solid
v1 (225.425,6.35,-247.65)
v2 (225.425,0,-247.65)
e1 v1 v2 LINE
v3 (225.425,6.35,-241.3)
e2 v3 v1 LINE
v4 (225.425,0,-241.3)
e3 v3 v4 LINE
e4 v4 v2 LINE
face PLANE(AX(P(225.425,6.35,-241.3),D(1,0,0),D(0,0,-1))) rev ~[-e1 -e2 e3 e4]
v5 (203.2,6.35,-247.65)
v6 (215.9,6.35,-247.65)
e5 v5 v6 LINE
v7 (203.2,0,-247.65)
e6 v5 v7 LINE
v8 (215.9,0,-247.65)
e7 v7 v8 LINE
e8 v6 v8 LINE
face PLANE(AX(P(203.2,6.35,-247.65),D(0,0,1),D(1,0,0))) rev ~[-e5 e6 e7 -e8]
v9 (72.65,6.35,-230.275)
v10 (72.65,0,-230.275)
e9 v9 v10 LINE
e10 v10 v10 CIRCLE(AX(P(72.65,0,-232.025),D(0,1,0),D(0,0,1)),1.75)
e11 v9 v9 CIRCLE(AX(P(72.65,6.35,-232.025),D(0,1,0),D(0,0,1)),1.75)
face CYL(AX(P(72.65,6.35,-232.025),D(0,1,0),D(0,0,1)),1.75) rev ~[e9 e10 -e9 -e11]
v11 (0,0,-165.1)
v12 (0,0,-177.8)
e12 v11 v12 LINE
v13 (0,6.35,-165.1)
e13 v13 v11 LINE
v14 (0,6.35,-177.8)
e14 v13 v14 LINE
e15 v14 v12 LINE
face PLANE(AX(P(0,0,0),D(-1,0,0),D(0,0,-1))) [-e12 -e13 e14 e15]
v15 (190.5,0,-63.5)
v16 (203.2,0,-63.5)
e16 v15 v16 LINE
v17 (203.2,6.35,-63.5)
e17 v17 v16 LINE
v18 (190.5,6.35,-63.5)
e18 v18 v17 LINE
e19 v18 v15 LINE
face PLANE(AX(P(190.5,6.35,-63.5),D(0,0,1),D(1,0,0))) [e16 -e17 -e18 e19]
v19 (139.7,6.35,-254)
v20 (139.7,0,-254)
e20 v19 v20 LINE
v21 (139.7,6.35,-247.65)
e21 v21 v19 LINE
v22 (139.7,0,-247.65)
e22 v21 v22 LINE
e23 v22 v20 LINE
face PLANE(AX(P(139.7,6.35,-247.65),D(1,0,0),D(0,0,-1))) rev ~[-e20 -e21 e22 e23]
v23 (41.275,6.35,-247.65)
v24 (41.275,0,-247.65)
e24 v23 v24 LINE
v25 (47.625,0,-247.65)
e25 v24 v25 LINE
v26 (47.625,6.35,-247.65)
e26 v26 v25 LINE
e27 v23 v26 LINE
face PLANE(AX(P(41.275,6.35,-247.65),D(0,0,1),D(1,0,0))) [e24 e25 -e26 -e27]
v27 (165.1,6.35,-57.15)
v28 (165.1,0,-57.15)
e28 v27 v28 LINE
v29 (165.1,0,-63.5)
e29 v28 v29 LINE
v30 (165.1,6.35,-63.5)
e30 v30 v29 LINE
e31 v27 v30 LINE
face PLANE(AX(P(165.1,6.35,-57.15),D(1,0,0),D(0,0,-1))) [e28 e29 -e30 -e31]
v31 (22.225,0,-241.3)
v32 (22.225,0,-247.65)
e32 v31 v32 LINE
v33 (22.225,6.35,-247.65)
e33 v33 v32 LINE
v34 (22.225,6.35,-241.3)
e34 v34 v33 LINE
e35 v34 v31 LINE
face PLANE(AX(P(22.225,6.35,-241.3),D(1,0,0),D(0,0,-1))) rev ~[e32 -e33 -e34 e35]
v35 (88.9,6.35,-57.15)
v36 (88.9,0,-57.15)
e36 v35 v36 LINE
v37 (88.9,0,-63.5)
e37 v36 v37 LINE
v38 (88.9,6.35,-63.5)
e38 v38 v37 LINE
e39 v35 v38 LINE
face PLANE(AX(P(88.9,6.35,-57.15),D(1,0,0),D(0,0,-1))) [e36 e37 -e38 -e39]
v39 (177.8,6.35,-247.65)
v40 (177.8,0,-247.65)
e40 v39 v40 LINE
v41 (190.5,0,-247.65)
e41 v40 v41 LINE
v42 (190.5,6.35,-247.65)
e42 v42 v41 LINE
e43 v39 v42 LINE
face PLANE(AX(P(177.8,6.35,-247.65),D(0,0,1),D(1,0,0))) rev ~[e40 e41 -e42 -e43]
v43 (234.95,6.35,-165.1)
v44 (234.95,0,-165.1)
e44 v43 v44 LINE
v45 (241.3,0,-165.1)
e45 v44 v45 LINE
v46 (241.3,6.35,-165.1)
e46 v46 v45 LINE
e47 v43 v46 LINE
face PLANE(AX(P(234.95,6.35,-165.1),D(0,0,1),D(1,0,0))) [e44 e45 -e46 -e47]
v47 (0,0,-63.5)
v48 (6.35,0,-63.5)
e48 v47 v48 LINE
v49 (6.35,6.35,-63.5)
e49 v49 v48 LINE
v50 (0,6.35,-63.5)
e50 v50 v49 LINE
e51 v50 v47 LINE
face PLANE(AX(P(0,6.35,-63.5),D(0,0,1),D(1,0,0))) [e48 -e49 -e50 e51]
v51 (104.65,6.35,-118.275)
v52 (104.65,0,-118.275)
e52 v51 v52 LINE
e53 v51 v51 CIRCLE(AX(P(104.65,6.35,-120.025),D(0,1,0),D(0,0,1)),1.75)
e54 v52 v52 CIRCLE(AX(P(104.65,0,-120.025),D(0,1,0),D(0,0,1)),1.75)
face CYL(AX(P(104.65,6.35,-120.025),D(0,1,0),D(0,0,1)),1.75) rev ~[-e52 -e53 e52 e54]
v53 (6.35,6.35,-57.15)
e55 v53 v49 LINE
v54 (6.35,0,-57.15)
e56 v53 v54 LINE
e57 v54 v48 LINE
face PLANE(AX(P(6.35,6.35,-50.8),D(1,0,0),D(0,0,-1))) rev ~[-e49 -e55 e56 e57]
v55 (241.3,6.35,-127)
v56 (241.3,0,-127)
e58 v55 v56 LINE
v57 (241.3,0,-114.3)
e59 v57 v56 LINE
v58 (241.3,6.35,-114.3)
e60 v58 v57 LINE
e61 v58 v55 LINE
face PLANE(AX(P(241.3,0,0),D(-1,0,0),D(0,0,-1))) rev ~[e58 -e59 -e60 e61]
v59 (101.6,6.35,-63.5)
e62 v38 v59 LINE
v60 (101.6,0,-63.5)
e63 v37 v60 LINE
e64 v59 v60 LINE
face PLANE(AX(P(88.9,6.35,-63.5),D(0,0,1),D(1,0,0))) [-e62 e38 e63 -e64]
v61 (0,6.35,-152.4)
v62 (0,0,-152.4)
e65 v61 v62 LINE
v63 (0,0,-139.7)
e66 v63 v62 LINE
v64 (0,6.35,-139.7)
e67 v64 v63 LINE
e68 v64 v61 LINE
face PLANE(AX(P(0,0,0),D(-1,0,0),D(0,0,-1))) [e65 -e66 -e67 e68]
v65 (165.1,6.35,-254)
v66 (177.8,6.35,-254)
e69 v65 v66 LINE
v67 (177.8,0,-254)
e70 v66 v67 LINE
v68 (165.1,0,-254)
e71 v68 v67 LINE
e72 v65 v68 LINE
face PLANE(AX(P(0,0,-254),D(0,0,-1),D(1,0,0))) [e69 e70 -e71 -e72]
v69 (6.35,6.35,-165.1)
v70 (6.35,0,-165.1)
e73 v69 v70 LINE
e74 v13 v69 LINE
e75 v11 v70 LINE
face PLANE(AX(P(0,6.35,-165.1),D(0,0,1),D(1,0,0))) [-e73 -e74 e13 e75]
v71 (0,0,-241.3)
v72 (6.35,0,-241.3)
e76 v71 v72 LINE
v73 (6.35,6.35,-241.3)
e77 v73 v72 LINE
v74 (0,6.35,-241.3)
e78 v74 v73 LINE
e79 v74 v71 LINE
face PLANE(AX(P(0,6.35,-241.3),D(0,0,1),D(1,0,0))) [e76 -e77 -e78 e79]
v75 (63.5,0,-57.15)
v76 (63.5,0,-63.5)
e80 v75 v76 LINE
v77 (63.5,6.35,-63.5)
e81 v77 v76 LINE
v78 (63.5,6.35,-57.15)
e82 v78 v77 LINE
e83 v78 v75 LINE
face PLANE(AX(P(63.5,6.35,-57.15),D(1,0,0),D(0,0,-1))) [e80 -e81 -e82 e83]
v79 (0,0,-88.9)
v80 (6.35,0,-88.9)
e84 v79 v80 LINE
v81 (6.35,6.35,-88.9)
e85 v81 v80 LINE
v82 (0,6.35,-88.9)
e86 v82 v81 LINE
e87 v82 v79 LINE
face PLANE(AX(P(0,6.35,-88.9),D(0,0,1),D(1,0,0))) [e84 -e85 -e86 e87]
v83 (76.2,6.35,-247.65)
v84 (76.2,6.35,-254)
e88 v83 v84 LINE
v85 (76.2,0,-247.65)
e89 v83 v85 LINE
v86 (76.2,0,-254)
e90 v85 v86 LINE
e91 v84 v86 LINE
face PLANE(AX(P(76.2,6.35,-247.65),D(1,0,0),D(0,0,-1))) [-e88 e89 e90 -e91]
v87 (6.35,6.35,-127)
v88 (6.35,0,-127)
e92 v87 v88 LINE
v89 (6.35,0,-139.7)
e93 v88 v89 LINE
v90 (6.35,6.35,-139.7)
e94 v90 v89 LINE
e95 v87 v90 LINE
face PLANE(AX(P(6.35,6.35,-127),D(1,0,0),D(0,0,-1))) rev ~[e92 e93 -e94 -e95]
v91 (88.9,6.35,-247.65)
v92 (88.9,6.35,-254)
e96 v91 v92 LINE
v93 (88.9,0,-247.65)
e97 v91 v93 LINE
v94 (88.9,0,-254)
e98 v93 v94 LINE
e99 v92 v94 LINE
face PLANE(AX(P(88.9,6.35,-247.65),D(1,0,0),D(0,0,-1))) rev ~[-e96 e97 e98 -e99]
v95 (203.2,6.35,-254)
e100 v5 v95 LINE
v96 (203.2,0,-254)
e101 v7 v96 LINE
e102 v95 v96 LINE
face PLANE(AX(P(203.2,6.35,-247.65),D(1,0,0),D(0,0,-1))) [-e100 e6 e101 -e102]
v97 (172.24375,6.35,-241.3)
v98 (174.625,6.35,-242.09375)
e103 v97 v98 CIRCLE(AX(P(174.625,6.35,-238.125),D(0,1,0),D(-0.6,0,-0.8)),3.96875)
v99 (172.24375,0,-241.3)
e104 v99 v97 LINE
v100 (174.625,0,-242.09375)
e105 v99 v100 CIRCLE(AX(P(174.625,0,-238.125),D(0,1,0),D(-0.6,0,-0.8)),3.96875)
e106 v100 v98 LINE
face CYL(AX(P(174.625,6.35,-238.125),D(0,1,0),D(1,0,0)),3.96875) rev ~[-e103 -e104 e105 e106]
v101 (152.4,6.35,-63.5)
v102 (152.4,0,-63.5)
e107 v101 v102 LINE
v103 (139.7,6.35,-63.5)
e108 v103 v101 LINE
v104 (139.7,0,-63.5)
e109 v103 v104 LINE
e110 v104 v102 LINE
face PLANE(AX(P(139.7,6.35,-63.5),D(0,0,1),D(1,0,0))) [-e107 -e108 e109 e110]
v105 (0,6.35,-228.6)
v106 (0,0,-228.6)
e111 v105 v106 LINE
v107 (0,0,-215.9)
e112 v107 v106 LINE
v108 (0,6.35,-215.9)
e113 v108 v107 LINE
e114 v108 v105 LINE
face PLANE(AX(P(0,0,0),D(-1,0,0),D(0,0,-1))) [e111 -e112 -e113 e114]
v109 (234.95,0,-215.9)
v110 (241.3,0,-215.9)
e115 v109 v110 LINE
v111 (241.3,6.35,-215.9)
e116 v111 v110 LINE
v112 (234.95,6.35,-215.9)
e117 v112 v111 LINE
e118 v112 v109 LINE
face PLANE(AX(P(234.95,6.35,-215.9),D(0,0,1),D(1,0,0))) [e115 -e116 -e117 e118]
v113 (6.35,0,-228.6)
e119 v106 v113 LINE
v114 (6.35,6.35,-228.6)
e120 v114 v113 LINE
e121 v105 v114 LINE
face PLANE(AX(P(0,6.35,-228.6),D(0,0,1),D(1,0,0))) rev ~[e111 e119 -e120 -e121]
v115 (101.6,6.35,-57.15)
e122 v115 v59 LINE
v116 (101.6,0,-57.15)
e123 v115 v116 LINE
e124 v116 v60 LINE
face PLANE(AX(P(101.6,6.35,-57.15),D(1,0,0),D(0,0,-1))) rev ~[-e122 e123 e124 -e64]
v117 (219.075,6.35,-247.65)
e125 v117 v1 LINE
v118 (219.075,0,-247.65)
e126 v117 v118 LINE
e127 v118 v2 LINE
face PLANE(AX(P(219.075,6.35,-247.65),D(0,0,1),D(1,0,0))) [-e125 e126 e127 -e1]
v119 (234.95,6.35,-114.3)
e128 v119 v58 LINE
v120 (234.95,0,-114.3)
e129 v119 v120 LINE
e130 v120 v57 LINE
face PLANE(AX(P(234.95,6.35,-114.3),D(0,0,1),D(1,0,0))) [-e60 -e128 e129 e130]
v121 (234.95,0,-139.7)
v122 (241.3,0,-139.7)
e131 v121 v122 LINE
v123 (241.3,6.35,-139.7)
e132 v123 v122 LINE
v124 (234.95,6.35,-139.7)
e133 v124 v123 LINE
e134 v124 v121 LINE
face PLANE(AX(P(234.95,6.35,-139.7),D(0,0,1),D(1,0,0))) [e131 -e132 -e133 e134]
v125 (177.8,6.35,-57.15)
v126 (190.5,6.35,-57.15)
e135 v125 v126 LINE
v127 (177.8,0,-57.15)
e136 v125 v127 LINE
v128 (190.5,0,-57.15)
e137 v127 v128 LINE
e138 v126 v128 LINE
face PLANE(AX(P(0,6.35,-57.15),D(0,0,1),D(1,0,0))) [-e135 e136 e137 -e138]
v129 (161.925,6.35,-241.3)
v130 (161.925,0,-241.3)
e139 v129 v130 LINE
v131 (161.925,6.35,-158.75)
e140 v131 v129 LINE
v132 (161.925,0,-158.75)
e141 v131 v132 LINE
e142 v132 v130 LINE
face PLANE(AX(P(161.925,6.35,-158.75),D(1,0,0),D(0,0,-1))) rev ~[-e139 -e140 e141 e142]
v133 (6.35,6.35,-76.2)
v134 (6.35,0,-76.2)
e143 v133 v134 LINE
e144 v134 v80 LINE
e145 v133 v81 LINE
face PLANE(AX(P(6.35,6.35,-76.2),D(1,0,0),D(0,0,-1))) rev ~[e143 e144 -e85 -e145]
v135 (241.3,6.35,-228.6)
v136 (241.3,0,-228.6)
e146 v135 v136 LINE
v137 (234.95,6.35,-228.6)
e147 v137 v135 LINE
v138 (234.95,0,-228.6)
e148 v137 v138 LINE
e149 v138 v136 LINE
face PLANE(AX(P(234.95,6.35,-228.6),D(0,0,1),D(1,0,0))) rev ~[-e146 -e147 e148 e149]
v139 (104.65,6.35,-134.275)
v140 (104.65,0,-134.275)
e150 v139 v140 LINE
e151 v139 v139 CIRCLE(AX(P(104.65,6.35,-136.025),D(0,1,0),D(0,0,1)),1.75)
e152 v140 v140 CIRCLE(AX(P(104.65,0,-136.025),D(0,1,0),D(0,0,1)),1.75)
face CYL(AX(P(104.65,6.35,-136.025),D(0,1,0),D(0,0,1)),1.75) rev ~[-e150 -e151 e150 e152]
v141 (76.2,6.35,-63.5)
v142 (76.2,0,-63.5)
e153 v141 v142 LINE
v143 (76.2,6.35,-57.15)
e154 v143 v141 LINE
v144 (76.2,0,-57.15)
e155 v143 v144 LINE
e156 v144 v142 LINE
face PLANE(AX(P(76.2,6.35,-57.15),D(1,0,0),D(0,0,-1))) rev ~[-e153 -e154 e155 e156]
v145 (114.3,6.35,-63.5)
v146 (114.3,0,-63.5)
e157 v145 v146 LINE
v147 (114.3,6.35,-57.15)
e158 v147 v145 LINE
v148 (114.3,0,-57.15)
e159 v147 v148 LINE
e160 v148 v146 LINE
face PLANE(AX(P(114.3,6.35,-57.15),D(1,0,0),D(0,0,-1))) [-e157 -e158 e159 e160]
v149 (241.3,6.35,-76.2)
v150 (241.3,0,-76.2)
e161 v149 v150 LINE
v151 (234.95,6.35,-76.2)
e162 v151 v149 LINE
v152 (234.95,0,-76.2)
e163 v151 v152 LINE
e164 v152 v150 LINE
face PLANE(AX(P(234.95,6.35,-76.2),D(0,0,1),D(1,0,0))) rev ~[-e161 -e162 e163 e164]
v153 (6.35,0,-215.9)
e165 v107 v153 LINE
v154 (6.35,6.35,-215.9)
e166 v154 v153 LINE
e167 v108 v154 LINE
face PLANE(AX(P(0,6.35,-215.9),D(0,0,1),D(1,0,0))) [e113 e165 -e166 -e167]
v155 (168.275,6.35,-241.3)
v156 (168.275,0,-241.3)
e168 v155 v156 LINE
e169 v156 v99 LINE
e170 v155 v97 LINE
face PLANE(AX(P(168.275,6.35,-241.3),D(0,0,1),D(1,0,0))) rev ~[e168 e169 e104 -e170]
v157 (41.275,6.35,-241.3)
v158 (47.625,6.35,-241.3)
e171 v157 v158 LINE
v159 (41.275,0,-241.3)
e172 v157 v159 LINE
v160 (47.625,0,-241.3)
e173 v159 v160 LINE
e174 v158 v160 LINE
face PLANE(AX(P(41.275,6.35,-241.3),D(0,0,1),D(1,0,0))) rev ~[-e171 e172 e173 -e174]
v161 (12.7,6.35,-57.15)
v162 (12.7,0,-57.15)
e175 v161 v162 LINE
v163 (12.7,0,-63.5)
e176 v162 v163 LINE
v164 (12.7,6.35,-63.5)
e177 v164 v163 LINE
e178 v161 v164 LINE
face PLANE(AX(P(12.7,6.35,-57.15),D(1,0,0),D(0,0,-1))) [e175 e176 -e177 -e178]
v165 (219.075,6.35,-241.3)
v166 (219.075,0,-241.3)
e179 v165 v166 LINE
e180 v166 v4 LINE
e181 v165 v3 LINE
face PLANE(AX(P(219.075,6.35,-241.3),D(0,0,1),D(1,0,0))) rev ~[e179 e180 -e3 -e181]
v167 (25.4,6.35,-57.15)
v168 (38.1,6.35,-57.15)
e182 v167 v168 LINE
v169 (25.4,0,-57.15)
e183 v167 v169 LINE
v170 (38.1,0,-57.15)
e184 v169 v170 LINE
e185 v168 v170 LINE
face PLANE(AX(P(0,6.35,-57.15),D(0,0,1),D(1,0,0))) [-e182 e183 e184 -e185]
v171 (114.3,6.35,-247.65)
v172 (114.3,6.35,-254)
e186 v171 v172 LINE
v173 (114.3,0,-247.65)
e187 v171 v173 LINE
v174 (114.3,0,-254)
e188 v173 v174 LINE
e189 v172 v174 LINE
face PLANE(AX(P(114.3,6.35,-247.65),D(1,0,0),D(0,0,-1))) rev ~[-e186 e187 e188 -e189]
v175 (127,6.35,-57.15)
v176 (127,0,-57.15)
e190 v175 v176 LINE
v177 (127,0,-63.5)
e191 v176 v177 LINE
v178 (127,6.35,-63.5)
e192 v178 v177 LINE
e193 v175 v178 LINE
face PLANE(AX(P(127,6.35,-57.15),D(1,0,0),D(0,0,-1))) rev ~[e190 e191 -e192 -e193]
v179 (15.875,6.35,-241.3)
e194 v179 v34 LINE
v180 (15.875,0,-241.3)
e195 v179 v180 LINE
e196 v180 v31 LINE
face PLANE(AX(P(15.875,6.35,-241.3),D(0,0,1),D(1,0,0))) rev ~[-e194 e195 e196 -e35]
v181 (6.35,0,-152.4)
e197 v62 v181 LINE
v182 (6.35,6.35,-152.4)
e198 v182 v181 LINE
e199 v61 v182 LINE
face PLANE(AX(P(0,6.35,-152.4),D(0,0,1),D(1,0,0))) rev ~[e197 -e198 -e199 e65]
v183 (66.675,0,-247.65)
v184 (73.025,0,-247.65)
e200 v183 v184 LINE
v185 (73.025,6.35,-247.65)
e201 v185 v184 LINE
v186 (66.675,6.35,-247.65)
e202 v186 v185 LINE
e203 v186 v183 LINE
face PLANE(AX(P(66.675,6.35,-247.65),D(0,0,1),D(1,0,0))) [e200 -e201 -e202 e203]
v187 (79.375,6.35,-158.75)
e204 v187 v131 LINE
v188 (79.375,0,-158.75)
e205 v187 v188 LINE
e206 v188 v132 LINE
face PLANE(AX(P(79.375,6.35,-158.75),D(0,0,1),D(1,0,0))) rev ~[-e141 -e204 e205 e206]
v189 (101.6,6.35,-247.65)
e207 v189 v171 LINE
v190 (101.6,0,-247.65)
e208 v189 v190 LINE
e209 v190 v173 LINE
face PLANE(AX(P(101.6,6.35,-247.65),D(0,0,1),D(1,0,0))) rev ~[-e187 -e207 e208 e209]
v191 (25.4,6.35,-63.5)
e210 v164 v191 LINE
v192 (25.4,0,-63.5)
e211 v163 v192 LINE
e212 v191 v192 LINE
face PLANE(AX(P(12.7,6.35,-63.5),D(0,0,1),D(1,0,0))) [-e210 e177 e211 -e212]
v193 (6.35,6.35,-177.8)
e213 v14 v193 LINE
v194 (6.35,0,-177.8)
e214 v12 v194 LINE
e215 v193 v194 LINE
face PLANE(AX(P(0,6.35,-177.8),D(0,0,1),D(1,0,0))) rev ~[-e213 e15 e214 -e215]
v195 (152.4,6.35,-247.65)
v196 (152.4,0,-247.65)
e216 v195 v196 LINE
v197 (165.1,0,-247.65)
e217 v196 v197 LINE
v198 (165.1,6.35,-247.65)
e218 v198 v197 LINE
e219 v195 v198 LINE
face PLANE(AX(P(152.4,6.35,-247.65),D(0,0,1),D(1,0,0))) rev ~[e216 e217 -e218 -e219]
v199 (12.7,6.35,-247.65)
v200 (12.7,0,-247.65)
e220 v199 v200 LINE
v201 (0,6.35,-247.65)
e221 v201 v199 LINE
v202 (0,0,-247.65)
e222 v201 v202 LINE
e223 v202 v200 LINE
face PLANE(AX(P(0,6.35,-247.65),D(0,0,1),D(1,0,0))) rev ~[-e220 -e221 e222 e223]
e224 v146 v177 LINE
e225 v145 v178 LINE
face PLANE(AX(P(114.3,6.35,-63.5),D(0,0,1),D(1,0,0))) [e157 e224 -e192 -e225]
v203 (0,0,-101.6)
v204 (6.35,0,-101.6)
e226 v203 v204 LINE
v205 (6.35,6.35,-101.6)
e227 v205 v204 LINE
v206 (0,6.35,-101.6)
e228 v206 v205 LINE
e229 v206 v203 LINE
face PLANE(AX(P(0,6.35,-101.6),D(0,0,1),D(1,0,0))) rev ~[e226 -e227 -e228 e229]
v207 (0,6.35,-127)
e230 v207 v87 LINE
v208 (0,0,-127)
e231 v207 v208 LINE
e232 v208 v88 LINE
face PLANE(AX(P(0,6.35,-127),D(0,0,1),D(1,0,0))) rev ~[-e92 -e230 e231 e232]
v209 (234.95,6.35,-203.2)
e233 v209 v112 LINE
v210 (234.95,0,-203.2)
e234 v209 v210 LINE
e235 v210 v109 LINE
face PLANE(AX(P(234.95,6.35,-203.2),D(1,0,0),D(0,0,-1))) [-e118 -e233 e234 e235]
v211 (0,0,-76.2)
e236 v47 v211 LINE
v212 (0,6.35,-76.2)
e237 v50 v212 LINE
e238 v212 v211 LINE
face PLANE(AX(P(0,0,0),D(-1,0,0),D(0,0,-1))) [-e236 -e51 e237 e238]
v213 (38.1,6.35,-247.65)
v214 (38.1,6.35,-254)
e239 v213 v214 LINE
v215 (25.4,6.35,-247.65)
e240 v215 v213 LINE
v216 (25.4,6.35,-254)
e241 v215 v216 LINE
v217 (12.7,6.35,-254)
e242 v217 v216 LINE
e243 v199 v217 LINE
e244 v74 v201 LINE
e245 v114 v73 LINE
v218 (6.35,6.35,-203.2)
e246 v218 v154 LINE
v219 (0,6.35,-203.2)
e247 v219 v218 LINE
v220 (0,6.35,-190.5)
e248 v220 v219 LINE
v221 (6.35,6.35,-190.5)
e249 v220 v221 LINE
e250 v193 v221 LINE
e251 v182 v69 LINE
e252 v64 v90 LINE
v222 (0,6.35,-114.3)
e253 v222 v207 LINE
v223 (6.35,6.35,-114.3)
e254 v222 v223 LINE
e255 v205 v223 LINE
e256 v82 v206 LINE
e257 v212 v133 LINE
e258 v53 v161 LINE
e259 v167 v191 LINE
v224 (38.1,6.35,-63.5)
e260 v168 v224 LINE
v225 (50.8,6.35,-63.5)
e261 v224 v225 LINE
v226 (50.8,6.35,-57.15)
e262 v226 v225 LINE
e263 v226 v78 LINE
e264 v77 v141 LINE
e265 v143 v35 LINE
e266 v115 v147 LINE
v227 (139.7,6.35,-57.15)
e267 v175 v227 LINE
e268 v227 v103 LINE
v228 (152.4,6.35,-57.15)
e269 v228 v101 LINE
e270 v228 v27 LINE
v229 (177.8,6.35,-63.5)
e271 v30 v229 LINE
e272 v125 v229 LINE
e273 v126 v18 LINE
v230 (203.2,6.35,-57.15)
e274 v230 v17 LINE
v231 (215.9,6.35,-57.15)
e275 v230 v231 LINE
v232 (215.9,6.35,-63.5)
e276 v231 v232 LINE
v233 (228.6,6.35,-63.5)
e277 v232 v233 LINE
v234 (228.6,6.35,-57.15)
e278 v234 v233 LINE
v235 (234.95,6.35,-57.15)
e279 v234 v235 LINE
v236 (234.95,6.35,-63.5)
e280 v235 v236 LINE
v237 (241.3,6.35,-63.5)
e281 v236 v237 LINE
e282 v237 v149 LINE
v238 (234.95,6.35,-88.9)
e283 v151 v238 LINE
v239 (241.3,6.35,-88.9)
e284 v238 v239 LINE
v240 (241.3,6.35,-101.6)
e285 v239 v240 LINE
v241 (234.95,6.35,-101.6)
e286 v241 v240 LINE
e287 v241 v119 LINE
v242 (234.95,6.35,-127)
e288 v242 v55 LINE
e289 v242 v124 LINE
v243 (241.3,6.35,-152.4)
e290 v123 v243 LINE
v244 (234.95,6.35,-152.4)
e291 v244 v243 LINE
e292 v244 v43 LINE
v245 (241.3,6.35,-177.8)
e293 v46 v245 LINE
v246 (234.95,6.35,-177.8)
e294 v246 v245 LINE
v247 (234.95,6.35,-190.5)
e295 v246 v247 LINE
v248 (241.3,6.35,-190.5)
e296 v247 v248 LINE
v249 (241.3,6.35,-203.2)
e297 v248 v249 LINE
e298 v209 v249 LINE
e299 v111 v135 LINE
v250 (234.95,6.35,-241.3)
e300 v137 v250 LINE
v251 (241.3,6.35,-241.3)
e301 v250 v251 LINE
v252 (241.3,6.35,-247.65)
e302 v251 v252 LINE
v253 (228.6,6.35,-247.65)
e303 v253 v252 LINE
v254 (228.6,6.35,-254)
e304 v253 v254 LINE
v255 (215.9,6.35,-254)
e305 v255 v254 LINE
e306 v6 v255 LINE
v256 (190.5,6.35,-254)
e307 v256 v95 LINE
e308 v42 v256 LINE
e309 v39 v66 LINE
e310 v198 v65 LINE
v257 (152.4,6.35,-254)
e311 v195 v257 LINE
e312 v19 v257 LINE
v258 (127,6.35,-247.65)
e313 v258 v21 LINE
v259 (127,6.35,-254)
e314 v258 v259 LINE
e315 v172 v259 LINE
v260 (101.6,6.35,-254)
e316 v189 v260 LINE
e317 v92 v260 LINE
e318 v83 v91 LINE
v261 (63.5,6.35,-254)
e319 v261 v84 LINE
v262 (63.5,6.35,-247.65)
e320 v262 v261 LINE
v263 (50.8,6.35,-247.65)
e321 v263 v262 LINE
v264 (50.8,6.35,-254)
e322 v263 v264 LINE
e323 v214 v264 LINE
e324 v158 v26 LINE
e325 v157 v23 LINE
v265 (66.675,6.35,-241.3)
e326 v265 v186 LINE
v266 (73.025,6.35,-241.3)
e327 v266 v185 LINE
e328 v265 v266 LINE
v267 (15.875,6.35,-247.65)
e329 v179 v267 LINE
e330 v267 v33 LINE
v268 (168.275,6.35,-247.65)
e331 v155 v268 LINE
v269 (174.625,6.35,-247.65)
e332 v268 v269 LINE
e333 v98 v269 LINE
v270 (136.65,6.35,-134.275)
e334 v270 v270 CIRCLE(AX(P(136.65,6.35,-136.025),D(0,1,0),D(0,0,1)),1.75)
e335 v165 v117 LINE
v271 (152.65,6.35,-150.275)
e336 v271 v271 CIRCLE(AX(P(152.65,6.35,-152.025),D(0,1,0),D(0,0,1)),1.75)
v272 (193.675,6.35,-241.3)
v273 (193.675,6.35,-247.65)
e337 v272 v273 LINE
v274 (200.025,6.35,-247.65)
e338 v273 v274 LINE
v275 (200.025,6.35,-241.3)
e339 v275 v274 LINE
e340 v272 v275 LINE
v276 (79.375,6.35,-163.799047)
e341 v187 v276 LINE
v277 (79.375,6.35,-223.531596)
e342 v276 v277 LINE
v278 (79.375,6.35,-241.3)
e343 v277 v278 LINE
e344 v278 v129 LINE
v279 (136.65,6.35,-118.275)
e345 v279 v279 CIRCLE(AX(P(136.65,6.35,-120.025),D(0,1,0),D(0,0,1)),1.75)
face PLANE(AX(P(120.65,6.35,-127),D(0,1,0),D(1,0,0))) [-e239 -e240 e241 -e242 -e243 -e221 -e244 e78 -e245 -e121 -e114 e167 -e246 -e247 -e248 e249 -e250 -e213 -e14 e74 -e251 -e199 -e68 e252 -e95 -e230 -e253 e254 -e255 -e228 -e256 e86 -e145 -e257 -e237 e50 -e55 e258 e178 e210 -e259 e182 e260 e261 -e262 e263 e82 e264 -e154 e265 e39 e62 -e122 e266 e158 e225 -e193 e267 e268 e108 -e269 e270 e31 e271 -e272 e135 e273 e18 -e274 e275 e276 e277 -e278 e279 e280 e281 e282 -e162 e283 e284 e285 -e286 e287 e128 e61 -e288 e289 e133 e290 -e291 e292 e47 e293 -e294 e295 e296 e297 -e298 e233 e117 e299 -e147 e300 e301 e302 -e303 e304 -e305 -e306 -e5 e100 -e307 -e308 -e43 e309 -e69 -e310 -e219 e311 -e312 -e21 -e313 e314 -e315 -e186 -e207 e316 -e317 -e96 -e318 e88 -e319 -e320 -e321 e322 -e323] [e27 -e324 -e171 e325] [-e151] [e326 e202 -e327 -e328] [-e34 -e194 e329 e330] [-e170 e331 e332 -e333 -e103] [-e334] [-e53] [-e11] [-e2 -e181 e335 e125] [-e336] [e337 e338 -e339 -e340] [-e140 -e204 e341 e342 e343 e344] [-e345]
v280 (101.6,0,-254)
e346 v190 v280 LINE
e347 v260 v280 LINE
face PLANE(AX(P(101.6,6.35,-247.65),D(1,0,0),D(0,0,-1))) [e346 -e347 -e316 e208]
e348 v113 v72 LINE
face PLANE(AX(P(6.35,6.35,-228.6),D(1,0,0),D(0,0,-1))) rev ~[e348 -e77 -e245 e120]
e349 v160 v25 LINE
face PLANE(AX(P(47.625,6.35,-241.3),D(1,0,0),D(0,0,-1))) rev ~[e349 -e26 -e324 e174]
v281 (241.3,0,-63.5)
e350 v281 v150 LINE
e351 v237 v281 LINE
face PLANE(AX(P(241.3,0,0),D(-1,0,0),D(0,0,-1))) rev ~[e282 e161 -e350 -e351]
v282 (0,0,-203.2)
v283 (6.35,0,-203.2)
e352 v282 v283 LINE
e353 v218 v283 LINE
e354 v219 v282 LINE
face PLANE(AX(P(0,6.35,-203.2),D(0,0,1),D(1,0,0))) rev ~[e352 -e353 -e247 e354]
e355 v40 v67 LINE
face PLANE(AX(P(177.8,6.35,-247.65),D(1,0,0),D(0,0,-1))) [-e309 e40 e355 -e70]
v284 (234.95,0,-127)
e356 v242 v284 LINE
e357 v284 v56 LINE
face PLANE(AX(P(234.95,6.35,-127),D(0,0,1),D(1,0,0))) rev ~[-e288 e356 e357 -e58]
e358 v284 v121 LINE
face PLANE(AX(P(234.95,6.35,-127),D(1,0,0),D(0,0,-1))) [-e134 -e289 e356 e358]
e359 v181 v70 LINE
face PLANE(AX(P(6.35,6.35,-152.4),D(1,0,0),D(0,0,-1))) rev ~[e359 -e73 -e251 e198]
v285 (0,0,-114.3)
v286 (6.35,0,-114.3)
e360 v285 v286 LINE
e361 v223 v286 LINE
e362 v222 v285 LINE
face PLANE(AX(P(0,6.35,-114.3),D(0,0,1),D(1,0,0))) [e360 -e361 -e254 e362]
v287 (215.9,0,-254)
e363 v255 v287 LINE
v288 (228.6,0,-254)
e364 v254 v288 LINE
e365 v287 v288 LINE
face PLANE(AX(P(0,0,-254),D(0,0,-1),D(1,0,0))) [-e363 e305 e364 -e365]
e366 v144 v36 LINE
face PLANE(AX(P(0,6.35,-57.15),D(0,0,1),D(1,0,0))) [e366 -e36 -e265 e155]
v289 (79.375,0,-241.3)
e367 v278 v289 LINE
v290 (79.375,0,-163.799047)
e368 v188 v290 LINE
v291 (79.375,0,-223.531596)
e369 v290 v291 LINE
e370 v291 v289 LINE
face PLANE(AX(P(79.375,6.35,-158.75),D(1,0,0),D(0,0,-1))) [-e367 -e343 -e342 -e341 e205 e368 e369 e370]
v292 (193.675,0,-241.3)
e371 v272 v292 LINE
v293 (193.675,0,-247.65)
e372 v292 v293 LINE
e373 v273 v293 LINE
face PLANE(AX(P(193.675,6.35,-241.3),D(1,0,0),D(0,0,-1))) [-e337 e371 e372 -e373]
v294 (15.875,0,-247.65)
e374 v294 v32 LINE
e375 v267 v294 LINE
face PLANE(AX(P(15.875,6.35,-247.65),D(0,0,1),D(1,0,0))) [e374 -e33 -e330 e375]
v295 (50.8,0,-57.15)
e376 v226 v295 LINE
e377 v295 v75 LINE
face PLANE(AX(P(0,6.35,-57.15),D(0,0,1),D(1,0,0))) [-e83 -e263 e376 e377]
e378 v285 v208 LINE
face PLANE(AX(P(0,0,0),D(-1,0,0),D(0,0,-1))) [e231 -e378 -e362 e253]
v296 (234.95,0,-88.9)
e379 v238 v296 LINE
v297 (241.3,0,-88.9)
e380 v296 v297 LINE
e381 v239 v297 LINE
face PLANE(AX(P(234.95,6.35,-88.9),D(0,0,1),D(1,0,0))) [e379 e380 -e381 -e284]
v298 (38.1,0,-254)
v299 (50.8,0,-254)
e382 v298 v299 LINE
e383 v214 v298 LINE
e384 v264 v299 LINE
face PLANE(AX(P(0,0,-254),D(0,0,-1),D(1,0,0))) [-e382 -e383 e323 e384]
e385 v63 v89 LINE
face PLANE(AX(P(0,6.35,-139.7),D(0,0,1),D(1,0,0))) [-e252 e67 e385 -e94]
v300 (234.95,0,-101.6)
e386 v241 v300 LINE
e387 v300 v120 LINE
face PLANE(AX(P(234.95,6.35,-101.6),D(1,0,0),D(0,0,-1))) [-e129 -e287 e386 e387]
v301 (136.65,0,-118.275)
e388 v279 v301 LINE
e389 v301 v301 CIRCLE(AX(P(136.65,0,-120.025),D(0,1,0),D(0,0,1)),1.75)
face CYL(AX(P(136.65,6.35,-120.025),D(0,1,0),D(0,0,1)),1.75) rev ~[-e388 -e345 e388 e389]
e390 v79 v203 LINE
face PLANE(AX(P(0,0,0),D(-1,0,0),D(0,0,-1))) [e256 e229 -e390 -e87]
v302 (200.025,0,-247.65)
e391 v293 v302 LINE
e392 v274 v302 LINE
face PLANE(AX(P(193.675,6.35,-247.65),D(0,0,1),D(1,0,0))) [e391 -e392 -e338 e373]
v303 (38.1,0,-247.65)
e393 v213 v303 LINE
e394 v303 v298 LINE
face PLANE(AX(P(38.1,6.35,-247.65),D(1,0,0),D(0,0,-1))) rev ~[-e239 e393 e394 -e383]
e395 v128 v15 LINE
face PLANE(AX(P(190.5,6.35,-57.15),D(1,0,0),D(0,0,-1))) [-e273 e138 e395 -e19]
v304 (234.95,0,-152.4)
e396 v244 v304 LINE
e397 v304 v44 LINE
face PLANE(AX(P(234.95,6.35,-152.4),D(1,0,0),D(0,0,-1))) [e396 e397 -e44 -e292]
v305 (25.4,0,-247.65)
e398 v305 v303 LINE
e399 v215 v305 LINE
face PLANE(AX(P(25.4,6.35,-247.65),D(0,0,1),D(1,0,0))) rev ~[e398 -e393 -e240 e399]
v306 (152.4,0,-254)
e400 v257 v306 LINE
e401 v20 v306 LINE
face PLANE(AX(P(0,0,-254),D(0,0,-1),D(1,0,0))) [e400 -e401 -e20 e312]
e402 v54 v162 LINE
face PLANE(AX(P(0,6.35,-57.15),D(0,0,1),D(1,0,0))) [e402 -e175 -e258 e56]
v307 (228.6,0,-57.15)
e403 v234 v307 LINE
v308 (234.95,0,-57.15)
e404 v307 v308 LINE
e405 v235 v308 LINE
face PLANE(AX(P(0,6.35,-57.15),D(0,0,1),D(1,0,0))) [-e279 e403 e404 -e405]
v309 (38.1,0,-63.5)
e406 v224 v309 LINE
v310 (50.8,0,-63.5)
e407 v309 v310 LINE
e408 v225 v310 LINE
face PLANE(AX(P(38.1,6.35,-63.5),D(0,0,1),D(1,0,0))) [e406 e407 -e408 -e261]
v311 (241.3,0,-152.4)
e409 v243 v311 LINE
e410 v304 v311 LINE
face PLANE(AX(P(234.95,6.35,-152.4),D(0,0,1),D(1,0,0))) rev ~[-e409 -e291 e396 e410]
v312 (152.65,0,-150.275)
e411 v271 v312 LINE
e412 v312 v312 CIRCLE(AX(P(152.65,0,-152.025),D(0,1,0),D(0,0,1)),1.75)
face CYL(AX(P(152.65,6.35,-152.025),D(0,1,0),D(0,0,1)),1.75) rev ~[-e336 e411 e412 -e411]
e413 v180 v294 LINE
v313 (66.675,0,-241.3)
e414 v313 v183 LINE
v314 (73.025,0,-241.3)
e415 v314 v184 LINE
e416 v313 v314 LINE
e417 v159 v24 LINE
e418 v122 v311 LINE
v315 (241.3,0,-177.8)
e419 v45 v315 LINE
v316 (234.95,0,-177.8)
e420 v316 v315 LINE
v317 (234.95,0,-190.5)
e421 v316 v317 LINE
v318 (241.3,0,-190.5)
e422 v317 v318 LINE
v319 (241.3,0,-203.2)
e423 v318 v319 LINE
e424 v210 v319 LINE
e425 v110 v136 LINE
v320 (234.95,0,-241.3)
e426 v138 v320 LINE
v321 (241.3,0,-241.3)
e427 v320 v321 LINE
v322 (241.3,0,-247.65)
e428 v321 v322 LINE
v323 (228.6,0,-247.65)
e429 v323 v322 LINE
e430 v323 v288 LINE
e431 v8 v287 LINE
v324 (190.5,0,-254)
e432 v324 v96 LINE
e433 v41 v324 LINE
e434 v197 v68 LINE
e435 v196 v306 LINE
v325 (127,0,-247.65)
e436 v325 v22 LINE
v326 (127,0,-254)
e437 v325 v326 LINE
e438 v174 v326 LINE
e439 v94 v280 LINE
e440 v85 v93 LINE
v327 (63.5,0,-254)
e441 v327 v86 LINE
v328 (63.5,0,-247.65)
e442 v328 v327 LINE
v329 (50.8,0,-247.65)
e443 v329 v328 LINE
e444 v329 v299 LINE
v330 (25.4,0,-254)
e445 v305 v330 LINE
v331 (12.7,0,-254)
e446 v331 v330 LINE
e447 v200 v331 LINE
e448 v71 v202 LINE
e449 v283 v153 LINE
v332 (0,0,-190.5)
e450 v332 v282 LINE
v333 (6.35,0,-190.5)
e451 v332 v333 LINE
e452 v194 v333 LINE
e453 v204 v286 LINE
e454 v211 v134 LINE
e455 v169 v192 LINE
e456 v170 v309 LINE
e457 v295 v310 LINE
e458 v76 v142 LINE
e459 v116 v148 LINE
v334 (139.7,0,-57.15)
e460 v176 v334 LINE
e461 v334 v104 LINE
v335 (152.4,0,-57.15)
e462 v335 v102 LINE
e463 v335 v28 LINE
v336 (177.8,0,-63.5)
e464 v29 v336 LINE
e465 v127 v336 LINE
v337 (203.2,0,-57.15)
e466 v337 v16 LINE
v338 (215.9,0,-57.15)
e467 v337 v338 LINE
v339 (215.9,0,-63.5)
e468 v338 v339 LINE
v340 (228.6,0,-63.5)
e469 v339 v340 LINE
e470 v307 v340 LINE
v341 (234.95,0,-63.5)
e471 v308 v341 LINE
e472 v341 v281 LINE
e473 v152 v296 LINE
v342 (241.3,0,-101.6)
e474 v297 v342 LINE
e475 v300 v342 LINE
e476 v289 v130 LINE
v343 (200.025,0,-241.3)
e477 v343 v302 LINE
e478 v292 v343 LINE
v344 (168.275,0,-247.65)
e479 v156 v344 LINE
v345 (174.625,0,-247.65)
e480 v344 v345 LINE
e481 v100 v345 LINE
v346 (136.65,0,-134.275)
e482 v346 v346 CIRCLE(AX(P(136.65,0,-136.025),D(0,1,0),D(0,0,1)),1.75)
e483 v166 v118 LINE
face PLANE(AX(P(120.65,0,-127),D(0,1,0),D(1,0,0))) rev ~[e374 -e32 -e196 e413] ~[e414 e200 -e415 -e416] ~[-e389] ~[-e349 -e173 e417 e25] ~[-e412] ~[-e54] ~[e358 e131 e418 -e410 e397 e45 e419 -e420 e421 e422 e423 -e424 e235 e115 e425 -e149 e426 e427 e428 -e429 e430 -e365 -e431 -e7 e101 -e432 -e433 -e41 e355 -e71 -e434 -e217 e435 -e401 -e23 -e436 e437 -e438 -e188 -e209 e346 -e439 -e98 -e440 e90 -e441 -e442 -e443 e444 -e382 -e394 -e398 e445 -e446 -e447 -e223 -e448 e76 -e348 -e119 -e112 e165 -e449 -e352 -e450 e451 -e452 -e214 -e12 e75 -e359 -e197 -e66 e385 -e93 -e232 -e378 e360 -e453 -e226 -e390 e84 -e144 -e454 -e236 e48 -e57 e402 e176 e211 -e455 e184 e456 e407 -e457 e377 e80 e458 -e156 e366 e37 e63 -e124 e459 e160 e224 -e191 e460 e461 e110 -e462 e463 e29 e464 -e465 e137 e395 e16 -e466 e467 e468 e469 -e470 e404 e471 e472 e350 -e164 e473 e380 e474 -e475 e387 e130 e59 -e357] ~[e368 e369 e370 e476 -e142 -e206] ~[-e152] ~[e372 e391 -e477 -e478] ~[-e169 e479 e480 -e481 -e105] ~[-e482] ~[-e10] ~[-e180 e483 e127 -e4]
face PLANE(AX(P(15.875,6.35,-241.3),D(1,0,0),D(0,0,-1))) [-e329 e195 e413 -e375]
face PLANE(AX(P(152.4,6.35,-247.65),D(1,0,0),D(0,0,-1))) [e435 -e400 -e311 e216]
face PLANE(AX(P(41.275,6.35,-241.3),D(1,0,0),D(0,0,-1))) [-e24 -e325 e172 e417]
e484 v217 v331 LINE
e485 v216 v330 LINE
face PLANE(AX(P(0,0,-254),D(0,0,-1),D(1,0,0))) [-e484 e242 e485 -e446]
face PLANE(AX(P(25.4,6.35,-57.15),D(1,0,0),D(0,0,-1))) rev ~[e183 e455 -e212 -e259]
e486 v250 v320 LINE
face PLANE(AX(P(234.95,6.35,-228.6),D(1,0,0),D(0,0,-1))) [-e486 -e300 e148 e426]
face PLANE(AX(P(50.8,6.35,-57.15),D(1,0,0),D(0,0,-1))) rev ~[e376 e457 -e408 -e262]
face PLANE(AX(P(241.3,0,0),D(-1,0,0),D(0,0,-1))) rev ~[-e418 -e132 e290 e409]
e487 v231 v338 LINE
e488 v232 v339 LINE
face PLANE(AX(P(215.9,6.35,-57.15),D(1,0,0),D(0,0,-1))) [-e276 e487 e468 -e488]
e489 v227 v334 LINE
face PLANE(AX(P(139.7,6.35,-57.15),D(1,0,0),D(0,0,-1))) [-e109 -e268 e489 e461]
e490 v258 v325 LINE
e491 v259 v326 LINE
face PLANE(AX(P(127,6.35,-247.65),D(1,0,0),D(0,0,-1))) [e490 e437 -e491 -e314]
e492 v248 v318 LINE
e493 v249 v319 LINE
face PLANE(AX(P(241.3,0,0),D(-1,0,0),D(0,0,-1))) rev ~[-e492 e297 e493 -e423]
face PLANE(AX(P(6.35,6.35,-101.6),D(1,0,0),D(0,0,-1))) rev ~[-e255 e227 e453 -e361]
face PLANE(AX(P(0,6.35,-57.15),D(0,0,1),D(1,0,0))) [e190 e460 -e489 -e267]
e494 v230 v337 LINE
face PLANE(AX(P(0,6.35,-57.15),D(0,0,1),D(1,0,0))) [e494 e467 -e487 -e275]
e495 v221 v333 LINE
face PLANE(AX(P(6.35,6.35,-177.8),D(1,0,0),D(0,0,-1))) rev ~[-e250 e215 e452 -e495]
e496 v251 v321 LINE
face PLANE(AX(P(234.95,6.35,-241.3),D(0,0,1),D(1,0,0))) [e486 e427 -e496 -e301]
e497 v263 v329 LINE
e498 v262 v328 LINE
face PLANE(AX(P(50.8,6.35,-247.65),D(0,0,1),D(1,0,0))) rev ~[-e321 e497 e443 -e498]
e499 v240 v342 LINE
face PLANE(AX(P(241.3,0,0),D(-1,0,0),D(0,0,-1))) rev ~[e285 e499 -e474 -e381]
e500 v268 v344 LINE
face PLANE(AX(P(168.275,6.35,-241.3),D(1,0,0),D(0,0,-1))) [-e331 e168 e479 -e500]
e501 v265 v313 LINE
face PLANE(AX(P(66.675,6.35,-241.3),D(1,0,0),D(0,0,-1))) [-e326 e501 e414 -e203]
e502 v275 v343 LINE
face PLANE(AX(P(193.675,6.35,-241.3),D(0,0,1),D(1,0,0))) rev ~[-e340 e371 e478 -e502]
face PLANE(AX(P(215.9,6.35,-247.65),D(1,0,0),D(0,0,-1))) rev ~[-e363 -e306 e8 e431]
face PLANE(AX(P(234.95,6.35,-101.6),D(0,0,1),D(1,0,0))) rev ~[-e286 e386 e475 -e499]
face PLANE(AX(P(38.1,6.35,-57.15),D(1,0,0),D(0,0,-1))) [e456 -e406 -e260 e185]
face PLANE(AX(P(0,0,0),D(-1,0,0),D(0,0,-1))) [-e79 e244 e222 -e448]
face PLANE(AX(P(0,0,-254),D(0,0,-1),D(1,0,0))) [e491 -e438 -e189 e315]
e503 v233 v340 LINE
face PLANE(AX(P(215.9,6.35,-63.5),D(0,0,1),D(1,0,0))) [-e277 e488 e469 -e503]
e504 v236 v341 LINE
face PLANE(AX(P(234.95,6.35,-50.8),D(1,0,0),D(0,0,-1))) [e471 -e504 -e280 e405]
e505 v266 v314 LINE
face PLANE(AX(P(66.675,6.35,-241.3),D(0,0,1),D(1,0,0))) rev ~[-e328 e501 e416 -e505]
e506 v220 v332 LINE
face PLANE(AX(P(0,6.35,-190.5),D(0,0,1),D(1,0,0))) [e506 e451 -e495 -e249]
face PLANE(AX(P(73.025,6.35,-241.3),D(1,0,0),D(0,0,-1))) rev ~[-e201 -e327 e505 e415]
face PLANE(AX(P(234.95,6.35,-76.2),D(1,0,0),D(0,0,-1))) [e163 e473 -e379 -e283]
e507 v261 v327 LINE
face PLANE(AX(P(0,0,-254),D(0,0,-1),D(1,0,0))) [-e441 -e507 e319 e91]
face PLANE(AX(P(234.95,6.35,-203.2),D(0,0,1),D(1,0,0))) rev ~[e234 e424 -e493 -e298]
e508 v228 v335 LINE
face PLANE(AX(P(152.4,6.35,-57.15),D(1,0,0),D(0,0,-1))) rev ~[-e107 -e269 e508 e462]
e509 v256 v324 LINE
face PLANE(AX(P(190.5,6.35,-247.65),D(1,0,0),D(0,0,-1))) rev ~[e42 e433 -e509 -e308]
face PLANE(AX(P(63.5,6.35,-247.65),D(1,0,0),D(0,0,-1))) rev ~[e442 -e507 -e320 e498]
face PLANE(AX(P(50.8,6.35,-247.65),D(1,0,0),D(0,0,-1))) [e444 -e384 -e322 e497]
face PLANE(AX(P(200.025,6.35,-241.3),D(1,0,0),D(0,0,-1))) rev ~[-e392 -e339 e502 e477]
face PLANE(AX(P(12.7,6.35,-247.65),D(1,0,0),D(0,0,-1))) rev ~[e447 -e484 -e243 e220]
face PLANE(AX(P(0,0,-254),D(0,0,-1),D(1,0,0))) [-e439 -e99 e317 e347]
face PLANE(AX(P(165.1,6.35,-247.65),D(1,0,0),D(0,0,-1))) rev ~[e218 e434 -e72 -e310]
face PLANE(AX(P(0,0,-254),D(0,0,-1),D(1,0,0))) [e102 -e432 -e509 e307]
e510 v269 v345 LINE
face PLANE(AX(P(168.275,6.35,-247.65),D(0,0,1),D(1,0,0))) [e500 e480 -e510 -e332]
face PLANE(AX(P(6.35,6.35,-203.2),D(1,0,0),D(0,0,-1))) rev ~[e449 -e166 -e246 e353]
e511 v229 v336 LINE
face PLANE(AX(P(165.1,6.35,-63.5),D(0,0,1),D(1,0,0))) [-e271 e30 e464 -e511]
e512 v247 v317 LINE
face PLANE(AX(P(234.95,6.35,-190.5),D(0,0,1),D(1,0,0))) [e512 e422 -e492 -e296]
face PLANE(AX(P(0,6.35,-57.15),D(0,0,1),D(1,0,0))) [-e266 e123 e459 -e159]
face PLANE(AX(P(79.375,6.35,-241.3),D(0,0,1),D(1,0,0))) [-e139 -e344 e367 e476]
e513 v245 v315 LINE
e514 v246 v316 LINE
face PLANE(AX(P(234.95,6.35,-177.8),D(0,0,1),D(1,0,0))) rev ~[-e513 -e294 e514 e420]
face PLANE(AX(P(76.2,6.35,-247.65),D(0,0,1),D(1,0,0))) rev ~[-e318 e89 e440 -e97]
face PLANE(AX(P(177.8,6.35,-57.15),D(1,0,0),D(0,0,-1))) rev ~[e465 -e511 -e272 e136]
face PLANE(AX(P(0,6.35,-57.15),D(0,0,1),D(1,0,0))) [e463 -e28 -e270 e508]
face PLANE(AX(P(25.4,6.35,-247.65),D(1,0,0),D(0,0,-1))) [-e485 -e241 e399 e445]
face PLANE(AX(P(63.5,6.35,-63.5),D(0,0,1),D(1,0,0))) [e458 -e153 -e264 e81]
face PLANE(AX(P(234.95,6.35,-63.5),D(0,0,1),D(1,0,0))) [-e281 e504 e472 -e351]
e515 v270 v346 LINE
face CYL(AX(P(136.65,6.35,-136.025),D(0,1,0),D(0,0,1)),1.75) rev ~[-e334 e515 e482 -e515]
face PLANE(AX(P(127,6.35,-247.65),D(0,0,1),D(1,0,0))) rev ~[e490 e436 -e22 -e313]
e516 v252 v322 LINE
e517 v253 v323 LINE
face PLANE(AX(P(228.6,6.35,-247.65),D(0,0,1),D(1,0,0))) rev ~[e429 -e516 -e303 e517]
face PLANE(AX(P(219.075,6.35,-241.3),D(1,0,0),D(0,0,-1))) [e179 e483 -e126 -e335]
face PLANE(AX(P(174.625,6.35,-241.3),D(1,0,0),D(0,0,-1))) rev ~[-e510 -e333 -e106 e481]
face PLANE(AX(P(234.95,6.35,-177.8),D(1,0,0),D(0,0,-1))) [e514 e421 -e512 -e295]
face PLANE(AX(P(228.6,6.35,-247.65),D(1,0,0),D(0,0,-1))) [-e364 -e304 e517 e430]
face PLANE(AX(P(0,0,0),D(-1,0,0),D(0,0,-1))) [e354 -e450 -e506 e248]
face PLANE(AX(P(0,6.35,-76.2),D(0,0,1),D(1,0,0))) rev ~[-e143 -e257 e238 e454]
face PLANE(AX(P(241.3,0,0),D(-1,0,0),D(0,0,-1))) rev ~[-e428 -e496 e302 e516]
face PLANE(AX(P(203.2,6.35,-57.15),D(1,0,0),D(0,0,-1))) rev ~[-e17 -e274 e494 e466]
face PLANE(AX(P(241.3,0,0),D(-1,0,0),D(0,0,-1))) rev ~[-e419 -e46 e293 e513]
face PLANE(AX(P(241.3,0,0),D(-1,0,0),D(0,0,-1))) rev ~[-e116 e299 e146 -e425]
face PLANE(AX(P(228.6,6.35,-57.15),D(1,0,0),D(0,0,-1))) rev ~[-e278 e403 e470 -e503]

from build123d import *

# Parameters (mm, degrees)
SKETCH1_W            = 241.3
SKETCH1_H            = 254
BOSS_EXTRUDE1_DEPTH  = 6.35
SKETCH2_W            = 6.35
SKETCH2_H            = 12.7
CUT_EXTRUDE1_DEPTH   = 351.402643398
LPATTERN1_COUNT      = 10
LPATTERN1_PITCH      = 25.4
SKETCH3_W            = 12.7
SKETCH3_H            = 6.35
CUT_EXTRUDE2_DEPTH   = 351.402643398
LPATTERN2_COUNT      = 10
LPATTERN2_PITCH      = 25.4
SKETCH4_W            = 241.3
SKETCH4_H            = 57.15
CUT_EXTRUDE3_DEPTH   = 351.402643398
SKETCH5_W            = 12.7
SKETCH5_H            = 6.35
CUT_EXTRUDE4_DEPTH   = 351.402643398
LPATTERN3_COUNT      = 10
LPATTERN3_PITCH      = 25.4
SKETCH6_W            = 82.55
SKETCH6_H            = 82.55
CUT_EXTRUDE5_DEPTH   = 351.402643398
SKETCH7_W            = 6.35
SKETCH7_H            = 6.35
CUT_EXTRUDE6_DEPTH   = 351.402643398
LPATTERN4_COUNT      = 9
LPATTERN4_PITCH      = 25.4
SKETCH8_R            = 1.75
CUT_EXTRUDE7_DEPTH   = 351.402643398
LPATTERN5_COUNT      = 13
LPATTERN5_PITCH      = 16
LPATTERN5_COUNT_DIR2 = 11
LPATTERN5_PITCH_DIR2 = 16
SKETCH9_W            = 48.045746174
SKETCH9_H            = 167.078000208
SKETCH9_W_2          = 46.314367934
SKETCH9_W_3          = 108.643984591
SKETCH9_H_2          = 41.120233212
SKETCH9_W_4          = 31.284165216
SKETCH9_H_3          = 8.622263637
SKETCH9_W_5          = 25.970673607
SKETCH9_H_4          = 10.388269443
SKETCH9_W_6          = 15.149559605
SKETCH9_W_7          = 30.731963769
SKETCH9_W_8          = 73.583575221
SKETCH9_H_5          = 8.656891202
SKETCH9_W_9          = 14.283870484
SKETCH9_W_10         = 8.224046642
SKETCH9_H_6          = 72.285041541
SKETCH9_W_11         = 11.748458615
SKETCH9_H_7          = 59.732549298
SKETCH9_W_12         = 9.178793531
SKETCH9_W_13         = 27.063281488
BOSS_EXTRUDE2_DEPTH  = 6.35
SKETCH10_R           = 3.96875
CUT_EXTRUDE8_DEPTH   = 351.402643398


with BuildPart() as part:
    # Sketch1 → Boss-Extrude1 (new body)
    with BuildSketch(Plane(origin=(0, 0, 0), x_dir=(1, 0, 0), z_dir=(0, 1, 0))):
        with Locations((120.65, 127)):
            Rectangle(SKETCH1_W, SKETCH1_H)
    extrude(amount=BOSS_EXTRUDE1_DEPTH)

    # Sketch2 → Cut-Extrude1 (cut, through all)
    with BuildSketch(Plane(origin=(0, 6.35, 0), x_dir=(1, 0, 0), z_dir=(0, 1, 0))):
        with Locations((3.175, 6.35)):
            Rectangle(SKETCH2_W, SKETCH2_H)
        with Locations((238.125, 6.35)):
            Rectangle(SKETCH2_W, SKETCH2_H)
    cut_extrude1 = extrude(amount=-CUT_EXTRUDE1_DEPTH, mode=Mode.SUBTRACT)

    # LPattern1: Cut-Extrude1 ×10
    with Locations(*[(0, 0, -i * LPATTERN1_PITCH) for i in range(1, LPATTERN1_COUNT)]):
        add(cut_extrude1, mode=Mode.SUBTRACT)

    # Sketch3 → Cut-Extrude2 (cut, through all)
    with BuildSketch(Plane(origin=(0, 6.35, 0), x_dir=(1, 0, 0), z_dir=(0, 1, 0))):
        with Locations((6.35, 3.175)):
            Rectangle(SKETCH3_W, SKETCH3_H)
        with Locations((6.35, 250.825)):
            Rectangle(SKETCH3_W, SKETCH3_H)
    cut_extrude2 = extrude(amount=-CUT_EXTRUDE2_DEPTH, mode=Mode.SUBTRACT)

    # LPattern2: Cut-Extrude2 ×10
    with Locations(*[(i * LPATTERN2_PITCH, 0, 0) for i in range(1, LPATTERN2_COUNT)]):
        add(cut_extrude2, mode=Mode.SUBTRACT)

    # Sketch4 → Cut-Extrude3 (cut, through all)
    with BuildSketch(Plane(origin=(0, 6.35, 0), x_dir=(1, 0, 0), z_dir=(0, 1, 0))):
        with Locations((120.65, 28.575)):
            Rectangle(SKETCH4_W, SKETCH4_H)
    extrude(amount=-CUT_EXTRUDE3_DEPTH, mode=Mode.SUBTRACT)

    # Sketch5 → Cut-Extrude4 (cut, through all)
    with BuildSketch(Plane(origin=(0, 6.35, 0), x_dir=(1, 0, 0), z_dir=(0, 1, 0))):
        with Locations((19.05, 60.325)):
            Rectangle(SKETCH5_W, SKETCH5_H)
    cut_extrude4 = extrude(amount=-CUT_EXTRUDE4_DEPTH, mode=Mode.SUBTRACT)

    # LPattern3: Cut-Extrude4 ×10
    with Locations(*[(i * LPATTERN3_PITCH, 0, 0) for i in range(1, LPATTERN3_COUNT)]):
        add(cut_extrude4, mode=Mode.SUBTRACT)

    # Sketch6 → Cut-Extrude5 (cut, through all)
    with BuildSketch(Plane(origin=(0, 6.35, 0), x_dir=(1, 0, 0), z_dir=(0, 1, 0))):
        with Locations((120.65, 200.025)):
            Rectangle(SKETCH6_W, SKETCH6_H)
    extrude(amount=-CUT_EXTRUDE5_DEPTH, mode=Mode.SUBTRACT)

    # Sketch7 → Cut-Extrude6 (cut, through all)
    with BuildSketch(Plane(origin=(0, 6.35, 0), x_dir=(1, 0, 0), z_dir=(0, 1, 0))):
        with Locations((19.05, 244.475)):
            Rectangle(SKETCH7_W, SKETCH7_H)
    cut_extrude6 = extrude(amount=-CUT_EXTRUDE6_DEPTH, mode=Mode.SUBTRACT)

    # LPattern4: Cut-Extrude6 ×9, 3 skipped
    with Locations(*[(i * LPATTERN4_PITCH, 0, 0) for i in range(1, LPATTERN4_COUNT) if i not in (3, 4, 5)]):
        add(cut_extrude6, mode=Mode.SUBTRACT)

    # Sketch8 → Cut-Extrude7 (cut, through all)
    with BuildSketch(Plane(origin=(0, 6.35, 0), x_dir=(1, 0, 0), z_dir=(0, 1, 0))):
        with Locations(Location((24.65, 72.025, 0), (0, 0, 270))):
            Circle(SKETCH8_R)
    cut_extrude7 = extrude(amount=-CUT_EXTRUDE7_DEPTH, mode=Mode.SUBTRACT)

    # LPattern5: Cut-Extrude7 13 × 11
    with Locations(*[(i * LPATTERN5_PITCH, 0, -j * LPATTERN5_PITCH_DIR2) for i in range(LPATTERN5_COUNT) for j in range(LPATTERN5_COUNT_DIR2) if (i, j) != (0, 0)]):
        add(cut_extrude7, mode=Mode.SUBTRACT)

    # Sketch9 → Boss-Extrude2 (add, through all)
    with BuildSketch(Plane(origin=(0, 6.35, 0), x_dir=(1, 0, 0), z_dir=(0, 1, 0))):
        with Locations((38.409533576, 152.545088079)):
            Rectangle(SKETCH9_W, SKETCH9_H)
        with Locations((203.756155544, 152.545088079)):
            Rectangle(SKETCH9_W_2, SKETCH9_H)
        with Locations((121.948533681, 89.566204581)):
            Rectangle(SKETCH9_W_3, SKETCH9_H_2)
        with Locations((83.268623993, 135.798764893)):
            Rectangle(SKETCH9_W_4, SKETCH9_H_3)
        with Locations((80.611878189, 120.51459063)):
            Rectangle(SKETCH9_W_5, SKETCH9_H_4)
        with Locations((122.814222801, 120.51459063)):
            Rectangle(SKETCH9_W_6, SKETCH9_H_4)
        with Locations((160.904544092, 120.51459063)):
            Rectangle(SKETCH9_W_7, SKETCH9_H_4)
        with Locations((104.418328996, 151.679398959)):
            Rectangle(SKETCH9_W_8, SKETCH9_H_5)
        with Locations((169.128590734, 151.679398959)):
            Rectangle(SKETCH9_W_9, SKETCH9_H_5)
        with Locations((169.128590734, 199.941567413)):
            Rectangle(SKETCH9_W_10, SKETCH9_H_6)
        with Locations((73.500770692, 193.665321291)):
            Rectangle(SKETCH9_W_11, SKETCH9_H_7)
        with Locations((119.828839764, 135.798764893)):
            Rectangle(SKETCH9_W_12, SKETCH9_H_3)
        with Locations((162.738885232, 135.798764893)):
            Rectangle(SKETCH9_W_13, SKETCH9_H_3)
    extrude(amount=-BOSS_EXTRUDE2_DEPTH)

    # Sketch10 → Cut-Extrude8 (cut, through all)
    with BuildSketch(Plane(origin=(0, 6.35, 0), x_dir=(1, 0, 0), z_dir=(0, 1, 0))):
        with Locations((174.625, 238.125)):
            Circle(SKETCH10_R)
    extrude(amount=-CUT_EXTRUDE8_DEPTH, mode=Mode.SUBTRACT)


solid = part.part
